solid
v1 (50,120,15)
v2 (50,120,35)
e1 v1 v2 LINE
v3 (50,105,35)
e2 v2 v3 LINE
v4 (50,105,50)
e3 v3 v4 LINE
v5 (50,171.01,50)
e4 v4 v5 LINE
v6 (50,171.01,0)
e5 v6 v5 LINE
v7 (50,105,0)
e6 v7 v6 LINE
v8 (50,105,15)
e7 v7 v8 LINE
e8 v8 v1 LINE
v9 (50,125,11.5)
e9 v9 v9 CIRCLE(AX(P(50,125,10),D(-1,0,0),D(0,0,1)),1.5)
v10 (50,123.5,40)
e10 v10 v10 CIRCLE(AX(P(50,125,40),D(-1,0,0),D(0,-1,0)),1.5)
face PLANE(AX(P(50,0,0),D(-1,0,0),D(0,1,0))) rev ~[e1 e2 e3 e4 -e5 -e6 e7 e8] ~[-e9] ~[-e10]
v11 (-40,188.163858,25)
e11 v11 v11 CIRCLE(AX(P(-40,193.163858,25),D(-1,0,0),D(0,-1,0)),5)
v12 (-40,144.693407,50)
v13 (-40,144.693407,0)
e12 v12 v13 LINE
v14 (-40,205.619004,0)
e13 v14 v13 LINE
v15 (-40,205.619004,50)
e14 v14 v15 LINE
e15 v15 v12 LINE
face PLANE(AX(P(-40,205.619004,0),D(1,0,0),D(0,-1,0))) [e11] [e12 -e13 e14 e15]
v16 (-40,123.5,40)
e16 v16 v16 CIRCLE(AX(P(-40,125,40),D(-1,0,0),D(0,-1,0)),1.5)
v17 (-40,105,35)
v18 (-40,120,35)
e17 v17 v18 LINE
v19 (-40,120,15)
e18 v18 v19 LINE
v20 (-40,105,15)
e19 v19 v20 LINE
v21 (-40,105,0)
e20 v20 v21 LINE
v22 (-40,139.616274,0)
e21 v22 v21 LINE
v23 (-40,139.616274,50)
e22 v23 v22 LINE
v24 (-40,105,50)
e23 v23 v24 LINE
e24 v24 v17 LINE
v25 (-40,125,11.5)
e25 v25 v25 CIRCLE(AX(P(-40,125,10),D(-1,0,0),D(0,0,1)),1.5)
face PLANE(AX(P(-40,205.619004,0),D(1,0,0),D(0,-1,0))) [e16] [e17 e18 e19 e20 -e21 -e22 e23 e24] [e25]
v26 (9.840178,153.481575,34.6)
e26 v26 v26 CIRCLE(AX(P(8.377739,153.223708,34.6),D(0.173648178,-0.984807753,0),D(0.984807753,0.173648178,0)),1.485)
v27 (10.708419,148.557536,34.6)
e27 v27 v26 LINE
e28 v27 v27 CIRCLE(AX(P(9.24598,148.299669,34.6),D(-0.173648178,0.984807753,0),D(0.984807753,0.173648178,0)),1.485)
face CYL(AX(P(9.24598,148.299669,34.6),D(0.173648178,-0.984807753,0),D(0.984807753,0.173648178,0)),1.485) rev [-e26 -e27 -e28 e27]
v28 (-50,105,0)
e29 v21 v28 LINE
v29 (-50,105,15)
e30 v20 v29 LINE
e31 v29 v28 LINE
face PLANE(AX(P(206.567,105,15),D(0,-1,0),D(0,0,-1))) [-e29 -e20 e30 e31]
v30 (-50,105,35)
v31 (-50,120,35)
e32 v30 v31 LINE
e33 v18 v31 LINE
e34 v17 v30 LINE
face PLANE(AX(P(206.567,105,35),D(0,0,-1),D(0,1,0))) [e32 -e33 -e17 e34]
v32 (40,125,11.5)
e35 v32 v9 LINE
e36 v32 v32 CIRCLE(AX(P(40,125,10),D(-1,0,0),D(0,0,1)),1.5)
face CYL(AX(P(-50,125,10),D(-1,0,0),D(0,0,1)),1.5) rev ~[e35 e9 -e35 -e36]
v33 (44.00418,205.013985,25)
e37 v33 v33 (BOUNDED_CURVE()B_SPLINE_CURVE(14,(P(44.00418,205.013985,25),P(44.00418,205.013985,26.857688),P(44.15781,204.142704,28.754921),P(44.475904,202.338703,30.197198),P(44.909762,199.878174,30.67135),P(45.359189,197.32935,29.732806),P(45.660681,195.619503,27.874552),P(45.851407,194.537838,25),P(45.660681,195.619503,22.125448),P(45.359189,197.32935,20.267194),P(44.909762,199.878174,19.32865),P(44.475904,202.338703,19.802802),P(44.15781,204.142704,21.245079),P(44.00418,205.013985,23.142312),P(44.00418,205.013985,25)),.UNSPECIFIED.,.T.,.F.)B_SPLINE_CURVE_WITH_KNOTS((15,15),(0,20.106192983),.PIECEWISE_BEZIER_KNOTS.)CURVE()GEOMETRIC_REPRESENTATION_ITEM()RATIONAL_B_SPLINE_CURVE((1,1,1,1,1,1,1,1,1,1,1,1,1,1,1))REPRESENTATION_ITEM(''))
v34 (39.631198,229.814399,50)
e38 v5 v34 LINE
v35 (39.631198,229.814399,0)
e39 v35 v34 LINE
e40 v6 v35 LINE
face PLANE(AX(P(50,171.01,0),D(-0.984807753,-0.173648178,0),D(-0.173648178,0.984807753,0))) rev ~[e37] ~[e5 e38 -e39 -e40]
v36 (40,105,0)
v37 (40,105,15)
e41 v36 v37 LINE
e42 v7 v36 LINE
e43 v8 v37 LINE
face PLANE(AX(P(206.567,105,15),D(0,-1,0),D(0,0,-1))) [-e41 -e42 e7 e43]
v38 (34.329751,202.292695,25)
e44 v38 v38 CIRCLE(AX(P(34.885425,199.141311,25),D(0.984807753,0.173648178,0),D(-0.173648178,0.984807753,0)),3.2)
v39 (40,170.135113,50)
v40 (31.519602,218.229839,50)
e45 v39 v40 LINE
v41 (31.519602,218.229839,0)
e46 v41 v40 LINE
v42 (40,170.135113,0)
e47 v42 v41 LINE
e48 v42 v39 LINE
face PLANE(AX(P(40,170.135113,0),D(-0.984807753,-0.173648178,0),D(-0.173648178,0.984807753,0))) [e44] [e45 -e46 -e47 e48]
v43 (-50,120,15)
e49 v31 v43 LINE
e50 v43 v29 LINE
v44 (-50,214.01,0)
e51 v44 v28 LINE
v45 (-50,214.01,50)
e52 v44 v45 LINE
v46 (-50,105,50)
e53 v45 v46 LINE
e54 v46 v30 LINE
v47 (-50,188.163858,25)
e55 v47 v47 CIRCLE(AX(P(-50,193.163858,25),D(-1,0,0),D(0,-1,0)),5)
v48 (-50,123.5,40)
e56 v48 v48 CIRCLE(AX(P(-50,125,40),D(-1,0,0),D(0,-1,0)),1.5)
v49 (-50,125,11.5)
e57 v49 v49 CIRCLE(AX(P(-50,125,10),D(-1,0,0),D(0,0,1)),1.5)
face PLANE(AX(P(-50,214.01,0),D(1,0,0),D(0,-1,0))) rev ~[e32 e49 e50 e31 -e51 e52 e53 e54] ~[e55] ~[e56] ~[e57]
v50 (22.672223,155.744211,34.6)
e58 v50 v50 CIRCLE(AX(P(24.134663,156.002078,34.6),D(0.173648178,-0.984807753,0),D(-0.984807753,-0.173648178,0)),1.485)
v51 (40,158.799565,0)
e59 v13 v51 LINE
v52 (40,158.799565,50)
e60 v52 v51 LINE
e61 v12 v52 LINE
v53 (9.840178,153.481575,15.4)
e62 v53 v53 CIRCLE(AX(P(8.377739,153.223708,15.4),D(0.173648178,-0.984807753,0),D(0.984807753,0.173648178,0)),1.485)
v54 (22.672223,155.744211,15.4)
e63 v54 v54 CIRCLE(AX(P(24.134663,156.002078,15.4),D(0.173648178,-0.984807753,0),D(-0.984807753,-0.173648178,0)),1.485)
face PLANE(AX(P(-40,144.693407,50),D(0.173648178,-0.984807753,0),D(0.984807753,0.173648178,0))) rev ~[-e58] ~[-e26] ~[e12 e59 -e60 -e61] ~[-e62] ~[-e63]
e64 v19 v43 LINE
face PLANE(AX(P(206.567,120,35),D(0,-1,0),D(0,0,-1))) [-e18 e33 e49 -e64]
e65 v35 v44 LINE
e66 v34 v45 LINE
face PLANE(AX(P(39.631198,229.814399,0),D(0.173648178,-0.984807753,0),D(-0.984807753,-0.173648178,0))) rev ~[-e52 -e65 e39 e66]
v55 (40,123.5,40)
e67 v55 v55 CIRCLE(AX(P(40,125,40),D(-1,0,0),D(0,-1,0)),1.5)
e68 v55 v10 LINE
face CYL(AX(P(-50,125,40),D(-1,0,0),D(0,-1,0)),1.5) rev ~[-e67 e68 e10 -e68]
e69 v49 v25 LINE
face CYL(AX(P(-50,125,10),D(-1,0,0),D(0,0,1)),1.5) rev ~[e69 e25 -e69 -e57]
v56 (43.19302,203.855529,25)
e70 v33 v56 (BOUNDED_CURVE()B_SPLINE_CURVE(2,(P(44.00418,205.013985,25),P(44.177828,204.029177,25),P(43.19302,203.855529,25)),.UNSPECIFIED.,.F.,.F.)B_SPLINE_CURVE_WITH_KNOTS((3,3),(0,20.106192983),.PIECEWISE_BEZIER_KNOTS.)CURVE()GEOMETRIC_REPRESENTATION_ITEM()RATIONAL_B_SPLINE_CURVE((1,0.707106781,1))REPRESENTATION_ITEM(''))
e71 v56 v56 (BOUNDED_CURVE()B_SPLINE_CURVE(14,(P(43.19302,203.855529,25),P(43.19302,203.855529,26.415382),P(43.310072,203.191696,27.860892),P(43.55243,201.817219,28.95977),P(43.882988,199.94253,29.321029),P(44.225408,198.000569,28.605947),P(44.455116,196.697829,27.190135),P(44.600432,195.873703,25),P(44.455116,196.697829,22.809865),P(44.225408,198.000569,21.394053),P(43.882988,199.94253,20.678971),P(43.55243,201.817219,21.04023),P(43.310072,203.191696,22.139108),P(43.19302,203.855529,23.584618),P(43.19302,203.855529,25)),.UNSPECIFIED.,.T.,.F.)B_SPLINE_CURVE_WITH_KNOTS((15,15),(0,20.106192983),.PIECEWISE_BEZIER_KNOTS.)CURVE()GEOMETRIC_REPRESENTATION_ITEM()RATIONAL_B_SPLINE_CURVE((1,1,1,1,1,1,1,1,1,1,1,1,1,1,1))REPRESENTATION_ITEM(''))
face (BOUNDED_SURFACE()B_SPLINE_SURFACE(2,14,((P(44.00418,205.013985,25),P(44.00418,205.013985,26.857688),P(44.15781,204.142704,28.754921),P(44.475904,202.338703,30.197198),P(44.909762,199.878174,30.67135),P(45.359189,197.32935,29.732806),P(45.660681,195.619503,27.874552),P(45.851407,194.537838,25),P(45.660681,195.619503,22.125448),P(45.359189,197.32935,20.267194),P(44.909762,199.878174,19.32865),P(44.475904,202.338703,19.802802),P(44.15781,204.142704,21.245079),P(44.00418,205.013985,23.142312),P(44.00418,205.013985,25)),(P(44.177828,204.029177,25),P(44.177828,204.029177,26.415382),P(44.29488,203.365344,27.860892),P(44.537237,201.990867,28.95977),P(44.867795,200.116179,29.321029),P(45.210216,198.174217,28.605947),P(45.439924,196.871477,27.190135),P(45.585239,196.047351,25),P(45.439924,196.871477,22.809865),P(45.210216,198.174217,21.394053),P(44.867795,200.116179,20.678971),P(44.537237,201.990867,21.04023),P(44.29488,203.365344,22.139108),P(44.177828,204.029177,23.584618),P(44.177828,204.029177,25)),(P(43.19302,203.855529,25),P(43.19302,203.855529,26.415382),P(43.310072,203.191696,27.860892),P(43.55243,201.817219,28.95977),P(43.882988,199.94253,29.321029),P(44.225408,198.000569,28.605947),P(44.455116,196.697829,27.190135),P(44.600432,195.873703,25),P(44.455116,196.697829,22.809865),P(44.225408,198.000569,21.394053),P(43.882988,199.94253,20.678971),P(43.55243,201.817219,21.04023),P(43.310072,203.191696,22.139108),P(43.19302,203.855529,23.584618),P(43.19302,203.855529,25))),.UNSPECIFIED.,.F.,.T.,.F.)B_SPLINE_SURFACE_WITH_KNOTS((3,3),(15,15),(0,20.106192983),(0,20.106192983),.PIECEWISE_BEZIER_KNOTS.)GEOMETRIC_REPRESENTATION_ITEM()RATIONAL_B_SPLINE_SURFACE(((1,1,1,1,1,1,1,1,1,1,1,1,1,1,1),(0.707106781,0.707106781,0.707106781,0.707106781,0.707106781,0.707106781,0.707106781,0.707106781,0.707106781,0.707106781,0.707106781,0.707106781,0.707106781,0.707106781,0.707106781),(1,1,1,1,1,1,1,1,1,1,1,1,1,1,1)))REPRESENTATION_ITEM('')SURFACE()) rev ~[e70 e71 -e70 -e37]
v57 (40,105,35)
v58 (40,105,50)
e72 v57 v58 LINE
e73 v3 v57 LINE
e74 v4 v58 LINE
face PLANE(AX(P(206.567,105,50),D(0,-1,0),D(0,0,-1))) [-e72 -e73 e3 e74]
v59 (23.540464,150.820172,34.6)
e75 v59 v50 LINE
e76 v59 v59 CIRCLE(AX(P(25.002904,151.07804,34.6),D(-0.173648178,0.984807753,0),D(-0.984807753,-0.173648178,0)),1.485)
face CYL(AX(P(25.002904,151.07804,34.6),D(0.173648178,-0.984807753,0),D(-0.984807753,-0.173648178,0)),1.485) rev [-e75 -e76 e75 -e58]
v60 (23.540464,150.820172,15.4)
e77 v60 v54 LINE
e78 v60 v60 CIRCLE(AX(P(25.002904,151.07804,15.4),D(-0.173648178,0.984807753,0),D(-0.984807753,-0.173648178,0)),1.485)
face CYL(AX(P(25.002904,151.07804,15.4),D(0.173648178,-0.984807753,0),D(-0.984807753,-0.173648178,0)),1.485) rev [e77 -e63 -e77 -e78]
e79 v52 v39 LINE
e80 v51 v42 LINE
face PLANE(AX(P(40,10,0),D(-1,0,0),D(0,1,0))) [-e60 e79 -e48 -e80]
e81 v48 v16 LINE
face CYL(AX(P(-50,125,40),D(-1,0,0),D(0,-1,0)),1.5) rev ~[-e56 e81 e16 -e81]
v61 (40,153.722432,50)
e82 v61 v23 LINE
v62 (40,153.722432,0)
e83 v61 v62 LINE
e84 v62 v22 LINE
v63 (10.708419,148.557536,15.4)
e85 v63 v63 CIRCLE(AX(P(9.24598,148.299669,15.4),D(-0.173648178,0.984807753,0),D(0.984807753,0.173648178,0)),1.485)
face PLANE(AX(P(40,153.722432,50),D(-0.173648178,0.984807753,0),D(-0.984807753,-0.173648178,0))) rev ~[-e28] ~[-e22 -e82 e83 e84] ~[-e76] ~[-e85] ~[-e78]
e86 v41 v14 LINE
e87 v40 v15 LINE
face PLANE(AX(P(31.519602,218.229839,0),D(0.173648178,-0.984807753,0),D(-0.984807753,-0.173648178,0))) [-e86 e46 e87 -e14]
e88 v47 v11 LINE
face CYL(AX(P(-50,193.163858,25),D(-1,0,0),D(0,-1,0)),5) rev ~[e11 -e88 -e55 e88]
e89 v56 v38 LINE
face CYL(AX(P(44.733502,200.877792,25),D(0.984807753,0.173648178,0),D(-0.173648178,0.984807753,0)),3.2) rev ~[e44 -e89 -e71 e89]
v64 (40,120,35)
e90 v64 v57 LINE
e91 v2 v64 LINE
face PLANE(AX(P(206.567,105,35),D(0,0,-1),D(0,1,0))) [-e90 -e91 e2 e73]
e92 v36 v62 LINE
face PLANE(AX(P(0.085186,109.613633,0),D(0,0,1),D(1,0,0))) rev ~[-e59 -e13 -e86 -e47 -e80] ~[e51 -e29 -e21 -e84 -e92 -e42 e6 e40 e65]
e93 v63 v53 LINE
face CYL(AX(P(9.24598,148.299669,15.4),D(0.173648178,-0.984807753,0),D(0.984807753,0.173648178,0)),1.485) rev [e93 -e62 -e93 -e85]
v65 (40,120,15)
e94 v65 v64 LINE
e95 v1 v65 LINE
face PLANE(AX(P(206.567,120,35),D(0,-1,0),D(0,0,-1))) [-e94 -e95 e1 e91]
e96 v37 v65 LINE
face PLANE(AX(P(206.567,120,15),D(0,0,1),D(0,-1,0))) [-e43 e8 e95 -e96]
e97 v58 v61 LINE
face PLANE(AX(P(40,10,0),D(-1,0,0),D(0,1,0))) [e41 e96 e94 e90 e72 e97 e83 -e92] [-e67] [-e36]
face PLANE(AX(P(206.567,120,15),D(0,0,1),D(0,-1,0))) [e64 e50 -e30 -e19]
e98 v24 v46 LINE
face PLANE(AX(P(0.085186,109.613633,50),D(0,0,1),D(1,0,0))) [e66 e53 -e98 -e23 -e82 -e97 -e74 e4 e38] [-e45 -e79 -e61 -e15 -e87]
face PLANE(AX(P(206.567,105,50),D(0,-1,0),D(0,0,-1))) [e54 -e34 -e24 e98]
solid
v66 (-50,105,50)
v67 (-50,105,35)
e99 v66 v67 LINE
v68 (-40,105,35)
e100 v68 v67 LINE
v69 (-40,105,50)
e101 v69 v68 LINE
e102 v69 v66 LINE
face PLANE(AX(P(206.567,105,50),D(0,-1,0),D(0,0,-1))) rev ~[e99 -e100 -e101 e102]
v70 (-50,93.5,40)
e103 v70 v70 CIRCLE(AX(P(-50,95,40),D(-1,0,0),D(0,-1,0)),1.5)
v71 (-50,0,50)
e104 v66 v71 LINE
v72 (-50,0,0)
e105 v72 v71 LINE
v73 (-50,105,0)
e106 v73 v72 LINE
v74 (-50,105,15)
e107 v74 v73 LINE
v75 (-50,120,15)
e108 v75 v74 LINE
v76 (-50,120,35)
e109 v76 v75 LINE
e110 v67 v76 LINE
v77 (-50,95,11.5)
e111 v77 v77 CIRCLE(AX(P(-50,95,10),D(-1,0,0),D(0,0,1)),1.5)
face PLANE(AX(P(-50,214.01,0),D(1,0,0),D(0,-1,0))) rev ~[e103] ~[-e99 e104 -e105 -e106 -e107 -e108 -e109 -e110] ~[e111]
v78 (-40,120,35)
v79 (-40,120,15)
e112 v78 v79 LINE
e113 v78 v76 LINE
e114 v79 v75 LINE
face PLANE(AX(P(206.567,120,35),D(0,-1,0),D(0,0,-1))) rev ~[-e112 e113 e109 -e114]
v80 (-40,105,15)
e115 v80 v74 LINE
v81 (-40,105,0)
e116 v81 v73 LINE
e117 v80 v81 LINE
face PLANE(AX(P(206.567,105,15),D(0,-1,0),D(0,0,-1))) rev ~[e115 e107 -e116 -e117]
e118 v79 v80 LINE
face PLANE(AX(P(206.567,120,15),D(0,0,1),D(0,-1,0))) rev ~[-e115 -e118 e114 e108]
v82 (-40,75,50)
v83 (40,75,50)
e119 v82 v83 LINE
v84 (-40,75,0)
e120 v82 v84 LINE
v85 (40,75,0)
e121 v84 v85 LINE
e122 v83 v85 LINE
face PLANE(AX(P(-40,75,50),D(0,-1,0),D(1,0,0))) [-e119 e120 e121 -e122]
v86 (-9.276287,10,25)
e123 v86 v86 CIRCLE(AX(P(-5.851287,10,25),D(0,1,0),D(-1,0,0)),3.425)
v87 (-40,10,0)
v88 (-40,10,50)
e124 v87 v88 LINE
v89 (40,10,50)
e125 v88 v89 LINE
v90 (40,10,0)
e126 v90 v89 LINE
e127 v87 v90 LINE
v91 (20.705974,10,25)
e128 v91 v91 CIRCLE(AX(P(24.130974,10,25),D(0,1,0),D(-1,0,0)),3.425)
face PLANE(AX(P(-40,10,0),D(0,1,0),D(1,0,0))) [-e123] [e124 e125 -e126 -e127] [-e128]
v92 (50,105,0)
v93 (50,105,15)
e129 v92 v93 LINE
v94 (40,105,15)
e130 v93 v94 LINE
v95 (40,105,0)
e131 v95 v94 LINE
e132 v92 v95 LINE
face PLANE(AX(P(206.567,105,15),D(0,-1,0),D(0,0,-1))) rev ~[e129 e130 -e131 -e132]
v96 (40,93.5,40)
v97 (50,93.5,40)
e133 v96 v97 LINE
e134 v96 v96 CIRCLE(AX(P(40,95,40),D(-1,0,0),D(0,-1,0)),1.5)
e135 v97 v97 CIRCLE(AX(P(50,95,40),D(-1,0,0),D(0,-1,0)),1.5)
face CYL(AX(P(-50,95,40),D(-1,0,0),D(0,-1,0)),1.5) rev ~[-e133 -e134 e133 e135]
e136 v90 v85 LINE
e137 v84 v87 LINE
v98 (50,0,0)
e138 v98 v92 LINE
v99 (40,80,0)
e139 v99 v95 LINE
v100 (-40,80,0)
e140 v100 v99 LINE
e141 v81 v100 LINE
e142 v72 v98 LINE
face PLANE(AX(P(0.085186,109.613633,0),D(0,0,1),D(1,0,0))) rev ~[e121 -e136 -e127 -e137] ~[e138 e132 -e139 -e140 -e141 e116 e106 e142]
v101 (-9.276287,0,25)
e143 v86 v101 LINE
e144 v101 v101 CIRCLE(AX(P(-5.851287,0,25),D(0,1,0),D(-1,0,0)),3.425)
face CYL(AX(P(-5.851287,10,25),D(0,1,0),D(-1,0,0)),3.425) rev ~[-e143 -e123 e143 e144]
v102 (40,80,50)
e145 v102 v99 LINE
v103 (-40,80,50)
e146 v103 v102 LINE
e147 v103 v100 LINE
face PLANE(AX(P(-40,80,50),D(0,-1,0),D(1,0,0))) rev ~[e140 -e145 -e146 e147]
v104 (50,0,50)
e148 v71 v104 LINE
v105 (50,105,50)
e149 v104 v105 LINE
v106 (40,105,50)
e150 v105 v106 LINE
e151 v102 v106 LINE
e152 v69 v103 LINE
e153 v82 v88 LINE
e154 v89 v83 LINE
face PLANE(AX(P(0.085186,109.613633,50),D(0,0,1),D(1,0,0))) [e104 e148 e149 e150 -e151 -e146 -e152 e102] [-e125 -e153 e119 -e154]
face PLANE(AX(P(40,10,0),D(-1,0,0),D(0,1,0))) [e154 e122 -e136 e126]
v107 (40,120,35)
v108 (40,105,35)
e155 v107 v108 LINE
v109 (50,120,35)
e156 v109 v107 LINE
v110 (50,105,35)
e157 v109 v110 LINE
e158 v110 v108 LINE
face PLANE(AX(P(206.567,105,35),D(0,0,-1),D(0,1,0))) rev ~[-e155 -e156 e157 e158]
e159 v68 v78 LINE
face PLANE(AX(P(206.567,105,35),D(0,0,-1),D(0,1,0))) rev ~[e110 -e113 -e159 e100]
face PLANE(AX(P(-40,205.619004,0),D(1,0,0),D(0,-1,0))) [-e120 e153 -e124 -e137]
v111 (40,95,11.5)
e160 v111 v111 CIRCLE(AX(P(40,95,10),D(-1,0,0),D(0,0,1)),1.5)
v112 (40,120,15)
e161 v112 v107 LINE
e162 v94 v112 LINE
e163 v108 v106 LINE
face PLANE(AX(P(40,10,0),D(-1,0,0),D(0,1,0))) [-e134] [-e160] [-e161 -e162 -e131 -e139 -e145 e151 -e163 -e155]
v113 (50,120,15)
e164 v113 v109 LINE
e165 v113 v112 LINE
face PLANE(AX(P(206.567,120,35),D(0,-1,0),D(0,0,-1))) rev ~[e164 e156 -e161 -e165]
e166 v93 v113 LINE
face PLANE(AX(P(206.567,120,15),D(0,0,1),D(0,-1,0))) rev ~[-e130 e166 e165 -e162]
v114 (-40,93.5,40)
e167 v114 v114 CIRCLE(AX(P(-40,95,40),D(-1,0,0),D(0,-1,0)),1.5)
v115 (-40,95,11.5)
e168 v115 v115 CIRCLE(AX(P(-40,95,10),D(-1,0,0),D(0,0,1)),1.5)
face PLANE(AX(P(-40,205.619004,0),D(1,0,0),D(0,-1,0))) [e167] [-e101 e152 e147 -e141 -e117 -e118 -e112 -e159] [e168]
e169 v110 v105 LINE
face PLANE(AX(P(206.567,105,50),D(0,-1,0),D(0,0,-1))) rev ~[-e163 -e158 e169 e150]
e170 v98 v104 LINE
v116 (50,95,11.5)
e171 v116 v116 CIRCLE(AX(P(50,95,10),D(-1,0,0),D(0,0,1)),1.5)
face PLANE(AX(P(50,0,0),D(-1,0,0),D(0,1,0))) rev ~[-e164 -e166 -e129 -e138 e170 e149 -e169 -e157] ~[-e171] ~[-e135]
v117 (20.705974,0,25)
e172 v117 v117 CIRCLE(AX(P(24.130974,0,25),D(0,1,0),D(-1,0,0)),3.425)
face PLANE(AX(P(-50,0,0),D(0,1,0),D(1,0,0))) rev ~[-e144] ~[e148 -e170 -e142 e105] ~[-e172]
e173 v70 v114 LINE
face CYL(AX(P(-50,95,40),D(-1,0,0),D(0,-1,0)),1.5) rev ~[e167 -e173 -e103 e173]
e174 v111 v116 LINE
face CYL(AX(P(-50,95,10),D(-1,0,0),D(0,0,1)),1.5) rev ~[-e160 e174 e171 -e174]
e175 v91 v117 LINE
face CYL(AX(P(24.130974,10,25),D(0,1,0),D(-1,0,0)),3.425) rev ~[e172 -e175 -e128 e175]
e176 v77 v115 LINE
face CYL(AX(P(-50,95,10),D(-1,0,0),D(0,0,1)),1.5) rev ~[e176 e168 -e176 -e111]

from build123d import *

# Parameters (mm, degrees)
BOSS_EXTRUDE1_DEPTH    = 50
SKETCH4_R              = 3.2
CUT_EXTRUDE1_DEPTH     = 10
BOSS_EXTRUDE2_DEPTH    = 50
SKETCH8_R              = 5
CUT_EXTRUDE3_DEPTH     = 10
CUT_EXTRUDE4_REACH     = 254.527
SKETCH9_R              = 1.485
SKETCH10_R             = 3.425
CUT_EXTRUDE5_DEPTH     = 10
SKETCH11_W             = 80
SKETCH11_H             = 5
BOSS_EXTRUDE3_DEPTH    = 50
FILLET1_R              = 1
SKETCH13_R             = 1.5
CUT_EXTRUDE6_DEPTH     = 256.567325306
SPLIT1_SURFACE_1_BACK  = 256.567
SPLIT1_SURFACE_1_DEPTH = 513.134
SPLIT1_SURFACE_2_BACK  = 256.567
SPLIT1_SURFACE_2_DEPTH = 513.134


with BuildPart() as part:
    # Sketch2 → Boss-Extrude1 (new body)
    with BuildSketch(Plane.XY):
        Polygon((-50, 214.01), (-50, 0), (50, 0), (50, 171.01), (39.631197958, 229.814398513), align=None)
        Polygon((-40, 205.619003688), (-40, 10), (40, 10), (40, 170.135113365), (31.519602204, 218.229839206), align=None, mode=Mode.SUBTRACT)
    extrude(amount=BOSS_EXTRUDE1_DEPTH)

    # Sketch4 → Cut-Extrude1 (cut)
    with BuildSketch(Plane(origin=(77.736747875, 13.707086043, 0), x_dir=(0, 0, -1), z_dir=(0.9848077530122079, 0.17364817766693136, 0))):
        with Locations(Location((-25, 190.058116105, 0), (0, 0, 90))):
            Circle(SKETCH4_R)
    extrude(amount=-CUT_EXTRUDE1_DEPTH, mode=Mode.SUBTRACT)

    # Sketch7 → Boss-Extrude2 (add)
    with BuildSketch(Plane.XY.offset(50)):
        Polygon((40, 158.799565432), (40, 153.722432372), (-40, 139.616273916), (-40, 144.693406975), align=None)
    extrude(amount=-BOSS_EXTRUDE2_DEPTH)

    # Sketch8 → Cut-Extrude3 (cut)
    with BuildSketch(Plane.ZY.offset(50)):
        with Locations(Location((25, 193.163858422, 0), (0, 0, 270))):
            Circle(SKETCH8_R)
    extrude(amount=-CUT_EXTRUDE3_DEPTH, mode=Mode.SUBTRACT)

    # Sketch9 → Cut-Extrude4 (cut, up to next)
    with BuildSketch(Plane(origin=(130.25849011, 169.637439417, 0), x_dir=(-0.9848077530122079, -0.17364817766693152, 0), z_dir=(-0.17364817766693152, 0.9848077530122079, 0)), mode=Mode.PRIVATE) as cut_extrude4_sk1:
        with Locations((106.879323392, 15.4)):
            Circle(SKETCH9_R)
    cut_extrude4_tool1 = extrude(cut_extrude4_sk1.sketch, amount=CUT_EXTRUDE4_REACH, mode=Mode.PRIVATE) & part.part
    # Sketch9 → Cut-Extrude4 (cut, up to next)
    with BuildSketch(Plane(origin=(130.25849011, 169.637439417, 0), x_dir=(-0.9848077530122079, -0.17364817766693152, 0), z_dir=(-0.17364817766693152, 0.9848077530122079, 0)), mode=Mode.PRIVATE) as cut_extrude4_sk2:
        with Locations((106.879323392, 34.6)):
            Circle(SKETCH9_R)
    cut_extrude4_tool2 = extrude(cut_extrude4_sk2.sketch, amount=CUT_EXTRUDE4_REACH, mode=Mode.PRIVATE) & part.part
    # Sketch9 → Cut-Extrude4 (cut, up to next)
    with BuildSketch(Plane(origin=(130.25849011, 169.637439417, 0), x_dir=(-0.9848077530122079, -0.17364817766693152, 0), z_dir=(-0.17364817766693152, 0.9848077530122079, 0)), mode=Mode.PRIVATE) as cut_extrude4_sk3:
        with Locations(Location((122.879323392, 34.6, 0), (0, 0, 180))):
            Circle(SKETCH9_R)
    cut_extrude4_tool3 = extrude(cut_extrude4_sk3.sketch, amount=CUT_EXTRUDE4_REACH, mode=Mode.PRIVATE) & part.part
    # Sketch9 → Cut-Extrude4 (cut, up to next)
    with BuildSketch(Plane(origin=(130.25849011, 169.637439417, 0), x_dir=(-0.9848077530122079, -0.17364817766693152, 0), z_dir=(-0.17364817766693152, 0.9848077530122079, 0)), mode=Mode.PRIVATE) as cut_extrude4_sk4:
        with Locations(Location((122.879323392, 15.4, 0), (0, 0, 180))):
            Circle(SKETCH9_R)
    cut_extrude4_tool4 = extrude(cut_extrude4_sk4.sketch, amount=CUT_EXTRUDE4_REACH, mode=Mode.PRIVATE) & part.part
    add(cut_extrude4_tool1.solids().sort_by_distance((25.002904, 151.07804, 15.4))[0], mode=Mode.SUBTRACT)
    add(cut_extrude4_tool2.solids().sort_by_distance((25.002904, 151.07804, 34.6))[0], mode=Mode.SUBTRACT)
    add(cut_extrude4_tool3.solids().sort_by_distance((9.24598, 148.299669, 34.6))[0], mode=Mode.SUBTRACT)
    add(cut_extrude4_tool4.solids().sort_by_distance((9.24598, 148.299669, 15.4))[0], mode=Mode.SUBTRACT)

    # Sketch10 → Cut-Extrude5 (cut)
    with BuildSketch(Plane(origin=(0, 10, 0), x_dir=(1, 0, 0), z_dir=(0, 1, 0))):
        with Locations(Location((-5.851287133, -25, 0), (0, 0, 180))):
            Circle(SKETCH10_R)
        with Locations(Location((24.130974018, -25, 0), (0, 0, 180))):
            Circle(SKETCH10_R)
    extrude(amount=-CUT_EXTRUDE5_DEPTH, mode=Mode.SUBTRACT)

    # Sketch11 → Boss-Extrude3 (add)
    with BuildSketch(Plane.XY.offset(50)):
        with Locations((0, 77.5)):
            Rectangle(SKETCH11_W, SKETCH11_H)
    extrude(amount=-BOSS_EXTRUDE3_DEPTH)

    # Fillet1
    fillet1_edges = [part.edges().sort_by_distance(p)[0] for p in [
        (45.289176531, 197.726407497, 25),
    ]]
    fillet(fillet1_edges, radius=FILLET1_R)

    # Sketch13 → Cut-Extrude6 (cut, through all)
    with BuildSketch(Plane.ZY.offset(50)):
        with Locations(Location((40, 125, 0), (0, 0, 270))):
            Circle(SKETCH13_R)
        with Locations(Location((40, 95, 0), (0, 0, 270))):
            Circle(SKETCH13_R)
        with Locations((10, 95)):
            Circle(SKETCH13_R)
        with Locations((10, 125)):
            Circle(SKETCH13_R)
    extrude(amount=-CUT_EXTRUDE6_DEPTH, mode=Mode.SUBTRACT)


with BuildPart() as body_2:
    # Split1: the piece behind the surface
    add(part.part)
    # Split1 surface: a surface, the sketch's curves swept straight by 513.134 mm
    with BuildLine(Plane.ZY.offset(50).offset(-SPLIT1_SURFACE_1_BACK), mode=Mode.PRIVATE) as split1_surface_1_path:
        Line((50, 105), (35, 105))
        Line((35, 105), (35, 120))
        Line((35, 120), (15, 120))
        Line((15, 120), (15, 105))
        Line((15, 105), (0, 105))
    split1_surface_1 = Shell.extrude(split1_surface_1_path.wire(), (-1 * SPLIT1_SURFACE_1_DEPTH, 0 * SPLIT1_SURFACE_1_DEPTH, 0 * SPLIT1_SURFACE_1_DEPTH))
    split(bisect_by=split1_surface_1, keep=Keep.BOTTOM)


with BuildPart() as part_1:
    add(part.part)

    # Split1: split by a surface, the side it looks to stays
    # Split1 surface: a surface, the sketch's curves swept straight by 513.134 mm
    with BuildLine(Plane.ZY.offset(50).offset(-SPLIT1_SURFACE_2_BACK), mode=Mode.PRIVATE) as split1_surface_2_path:
        Line((50, 105), (35, 105))
        Line((35, 105), (35, 120))
        Line((35, 120), (15, 120))
        Line((15, 120), (15, 105))
        Line((15, 105), (0, 105))
    split1_surface_2 = Shell.extrude(split1_surface_2_path.wire(), (-1 * SPLIT1_SURFACE_2_DEPTH, 0 * SPLIT1_SURFACE_2_DEPTH, 0 * SPLIT1_SURFACE_2_DEPTH))
    split(bisect_by=split1_surface_2, keep=Keep.TOP)


solid = Compound([body_2.part, part_1.part])
